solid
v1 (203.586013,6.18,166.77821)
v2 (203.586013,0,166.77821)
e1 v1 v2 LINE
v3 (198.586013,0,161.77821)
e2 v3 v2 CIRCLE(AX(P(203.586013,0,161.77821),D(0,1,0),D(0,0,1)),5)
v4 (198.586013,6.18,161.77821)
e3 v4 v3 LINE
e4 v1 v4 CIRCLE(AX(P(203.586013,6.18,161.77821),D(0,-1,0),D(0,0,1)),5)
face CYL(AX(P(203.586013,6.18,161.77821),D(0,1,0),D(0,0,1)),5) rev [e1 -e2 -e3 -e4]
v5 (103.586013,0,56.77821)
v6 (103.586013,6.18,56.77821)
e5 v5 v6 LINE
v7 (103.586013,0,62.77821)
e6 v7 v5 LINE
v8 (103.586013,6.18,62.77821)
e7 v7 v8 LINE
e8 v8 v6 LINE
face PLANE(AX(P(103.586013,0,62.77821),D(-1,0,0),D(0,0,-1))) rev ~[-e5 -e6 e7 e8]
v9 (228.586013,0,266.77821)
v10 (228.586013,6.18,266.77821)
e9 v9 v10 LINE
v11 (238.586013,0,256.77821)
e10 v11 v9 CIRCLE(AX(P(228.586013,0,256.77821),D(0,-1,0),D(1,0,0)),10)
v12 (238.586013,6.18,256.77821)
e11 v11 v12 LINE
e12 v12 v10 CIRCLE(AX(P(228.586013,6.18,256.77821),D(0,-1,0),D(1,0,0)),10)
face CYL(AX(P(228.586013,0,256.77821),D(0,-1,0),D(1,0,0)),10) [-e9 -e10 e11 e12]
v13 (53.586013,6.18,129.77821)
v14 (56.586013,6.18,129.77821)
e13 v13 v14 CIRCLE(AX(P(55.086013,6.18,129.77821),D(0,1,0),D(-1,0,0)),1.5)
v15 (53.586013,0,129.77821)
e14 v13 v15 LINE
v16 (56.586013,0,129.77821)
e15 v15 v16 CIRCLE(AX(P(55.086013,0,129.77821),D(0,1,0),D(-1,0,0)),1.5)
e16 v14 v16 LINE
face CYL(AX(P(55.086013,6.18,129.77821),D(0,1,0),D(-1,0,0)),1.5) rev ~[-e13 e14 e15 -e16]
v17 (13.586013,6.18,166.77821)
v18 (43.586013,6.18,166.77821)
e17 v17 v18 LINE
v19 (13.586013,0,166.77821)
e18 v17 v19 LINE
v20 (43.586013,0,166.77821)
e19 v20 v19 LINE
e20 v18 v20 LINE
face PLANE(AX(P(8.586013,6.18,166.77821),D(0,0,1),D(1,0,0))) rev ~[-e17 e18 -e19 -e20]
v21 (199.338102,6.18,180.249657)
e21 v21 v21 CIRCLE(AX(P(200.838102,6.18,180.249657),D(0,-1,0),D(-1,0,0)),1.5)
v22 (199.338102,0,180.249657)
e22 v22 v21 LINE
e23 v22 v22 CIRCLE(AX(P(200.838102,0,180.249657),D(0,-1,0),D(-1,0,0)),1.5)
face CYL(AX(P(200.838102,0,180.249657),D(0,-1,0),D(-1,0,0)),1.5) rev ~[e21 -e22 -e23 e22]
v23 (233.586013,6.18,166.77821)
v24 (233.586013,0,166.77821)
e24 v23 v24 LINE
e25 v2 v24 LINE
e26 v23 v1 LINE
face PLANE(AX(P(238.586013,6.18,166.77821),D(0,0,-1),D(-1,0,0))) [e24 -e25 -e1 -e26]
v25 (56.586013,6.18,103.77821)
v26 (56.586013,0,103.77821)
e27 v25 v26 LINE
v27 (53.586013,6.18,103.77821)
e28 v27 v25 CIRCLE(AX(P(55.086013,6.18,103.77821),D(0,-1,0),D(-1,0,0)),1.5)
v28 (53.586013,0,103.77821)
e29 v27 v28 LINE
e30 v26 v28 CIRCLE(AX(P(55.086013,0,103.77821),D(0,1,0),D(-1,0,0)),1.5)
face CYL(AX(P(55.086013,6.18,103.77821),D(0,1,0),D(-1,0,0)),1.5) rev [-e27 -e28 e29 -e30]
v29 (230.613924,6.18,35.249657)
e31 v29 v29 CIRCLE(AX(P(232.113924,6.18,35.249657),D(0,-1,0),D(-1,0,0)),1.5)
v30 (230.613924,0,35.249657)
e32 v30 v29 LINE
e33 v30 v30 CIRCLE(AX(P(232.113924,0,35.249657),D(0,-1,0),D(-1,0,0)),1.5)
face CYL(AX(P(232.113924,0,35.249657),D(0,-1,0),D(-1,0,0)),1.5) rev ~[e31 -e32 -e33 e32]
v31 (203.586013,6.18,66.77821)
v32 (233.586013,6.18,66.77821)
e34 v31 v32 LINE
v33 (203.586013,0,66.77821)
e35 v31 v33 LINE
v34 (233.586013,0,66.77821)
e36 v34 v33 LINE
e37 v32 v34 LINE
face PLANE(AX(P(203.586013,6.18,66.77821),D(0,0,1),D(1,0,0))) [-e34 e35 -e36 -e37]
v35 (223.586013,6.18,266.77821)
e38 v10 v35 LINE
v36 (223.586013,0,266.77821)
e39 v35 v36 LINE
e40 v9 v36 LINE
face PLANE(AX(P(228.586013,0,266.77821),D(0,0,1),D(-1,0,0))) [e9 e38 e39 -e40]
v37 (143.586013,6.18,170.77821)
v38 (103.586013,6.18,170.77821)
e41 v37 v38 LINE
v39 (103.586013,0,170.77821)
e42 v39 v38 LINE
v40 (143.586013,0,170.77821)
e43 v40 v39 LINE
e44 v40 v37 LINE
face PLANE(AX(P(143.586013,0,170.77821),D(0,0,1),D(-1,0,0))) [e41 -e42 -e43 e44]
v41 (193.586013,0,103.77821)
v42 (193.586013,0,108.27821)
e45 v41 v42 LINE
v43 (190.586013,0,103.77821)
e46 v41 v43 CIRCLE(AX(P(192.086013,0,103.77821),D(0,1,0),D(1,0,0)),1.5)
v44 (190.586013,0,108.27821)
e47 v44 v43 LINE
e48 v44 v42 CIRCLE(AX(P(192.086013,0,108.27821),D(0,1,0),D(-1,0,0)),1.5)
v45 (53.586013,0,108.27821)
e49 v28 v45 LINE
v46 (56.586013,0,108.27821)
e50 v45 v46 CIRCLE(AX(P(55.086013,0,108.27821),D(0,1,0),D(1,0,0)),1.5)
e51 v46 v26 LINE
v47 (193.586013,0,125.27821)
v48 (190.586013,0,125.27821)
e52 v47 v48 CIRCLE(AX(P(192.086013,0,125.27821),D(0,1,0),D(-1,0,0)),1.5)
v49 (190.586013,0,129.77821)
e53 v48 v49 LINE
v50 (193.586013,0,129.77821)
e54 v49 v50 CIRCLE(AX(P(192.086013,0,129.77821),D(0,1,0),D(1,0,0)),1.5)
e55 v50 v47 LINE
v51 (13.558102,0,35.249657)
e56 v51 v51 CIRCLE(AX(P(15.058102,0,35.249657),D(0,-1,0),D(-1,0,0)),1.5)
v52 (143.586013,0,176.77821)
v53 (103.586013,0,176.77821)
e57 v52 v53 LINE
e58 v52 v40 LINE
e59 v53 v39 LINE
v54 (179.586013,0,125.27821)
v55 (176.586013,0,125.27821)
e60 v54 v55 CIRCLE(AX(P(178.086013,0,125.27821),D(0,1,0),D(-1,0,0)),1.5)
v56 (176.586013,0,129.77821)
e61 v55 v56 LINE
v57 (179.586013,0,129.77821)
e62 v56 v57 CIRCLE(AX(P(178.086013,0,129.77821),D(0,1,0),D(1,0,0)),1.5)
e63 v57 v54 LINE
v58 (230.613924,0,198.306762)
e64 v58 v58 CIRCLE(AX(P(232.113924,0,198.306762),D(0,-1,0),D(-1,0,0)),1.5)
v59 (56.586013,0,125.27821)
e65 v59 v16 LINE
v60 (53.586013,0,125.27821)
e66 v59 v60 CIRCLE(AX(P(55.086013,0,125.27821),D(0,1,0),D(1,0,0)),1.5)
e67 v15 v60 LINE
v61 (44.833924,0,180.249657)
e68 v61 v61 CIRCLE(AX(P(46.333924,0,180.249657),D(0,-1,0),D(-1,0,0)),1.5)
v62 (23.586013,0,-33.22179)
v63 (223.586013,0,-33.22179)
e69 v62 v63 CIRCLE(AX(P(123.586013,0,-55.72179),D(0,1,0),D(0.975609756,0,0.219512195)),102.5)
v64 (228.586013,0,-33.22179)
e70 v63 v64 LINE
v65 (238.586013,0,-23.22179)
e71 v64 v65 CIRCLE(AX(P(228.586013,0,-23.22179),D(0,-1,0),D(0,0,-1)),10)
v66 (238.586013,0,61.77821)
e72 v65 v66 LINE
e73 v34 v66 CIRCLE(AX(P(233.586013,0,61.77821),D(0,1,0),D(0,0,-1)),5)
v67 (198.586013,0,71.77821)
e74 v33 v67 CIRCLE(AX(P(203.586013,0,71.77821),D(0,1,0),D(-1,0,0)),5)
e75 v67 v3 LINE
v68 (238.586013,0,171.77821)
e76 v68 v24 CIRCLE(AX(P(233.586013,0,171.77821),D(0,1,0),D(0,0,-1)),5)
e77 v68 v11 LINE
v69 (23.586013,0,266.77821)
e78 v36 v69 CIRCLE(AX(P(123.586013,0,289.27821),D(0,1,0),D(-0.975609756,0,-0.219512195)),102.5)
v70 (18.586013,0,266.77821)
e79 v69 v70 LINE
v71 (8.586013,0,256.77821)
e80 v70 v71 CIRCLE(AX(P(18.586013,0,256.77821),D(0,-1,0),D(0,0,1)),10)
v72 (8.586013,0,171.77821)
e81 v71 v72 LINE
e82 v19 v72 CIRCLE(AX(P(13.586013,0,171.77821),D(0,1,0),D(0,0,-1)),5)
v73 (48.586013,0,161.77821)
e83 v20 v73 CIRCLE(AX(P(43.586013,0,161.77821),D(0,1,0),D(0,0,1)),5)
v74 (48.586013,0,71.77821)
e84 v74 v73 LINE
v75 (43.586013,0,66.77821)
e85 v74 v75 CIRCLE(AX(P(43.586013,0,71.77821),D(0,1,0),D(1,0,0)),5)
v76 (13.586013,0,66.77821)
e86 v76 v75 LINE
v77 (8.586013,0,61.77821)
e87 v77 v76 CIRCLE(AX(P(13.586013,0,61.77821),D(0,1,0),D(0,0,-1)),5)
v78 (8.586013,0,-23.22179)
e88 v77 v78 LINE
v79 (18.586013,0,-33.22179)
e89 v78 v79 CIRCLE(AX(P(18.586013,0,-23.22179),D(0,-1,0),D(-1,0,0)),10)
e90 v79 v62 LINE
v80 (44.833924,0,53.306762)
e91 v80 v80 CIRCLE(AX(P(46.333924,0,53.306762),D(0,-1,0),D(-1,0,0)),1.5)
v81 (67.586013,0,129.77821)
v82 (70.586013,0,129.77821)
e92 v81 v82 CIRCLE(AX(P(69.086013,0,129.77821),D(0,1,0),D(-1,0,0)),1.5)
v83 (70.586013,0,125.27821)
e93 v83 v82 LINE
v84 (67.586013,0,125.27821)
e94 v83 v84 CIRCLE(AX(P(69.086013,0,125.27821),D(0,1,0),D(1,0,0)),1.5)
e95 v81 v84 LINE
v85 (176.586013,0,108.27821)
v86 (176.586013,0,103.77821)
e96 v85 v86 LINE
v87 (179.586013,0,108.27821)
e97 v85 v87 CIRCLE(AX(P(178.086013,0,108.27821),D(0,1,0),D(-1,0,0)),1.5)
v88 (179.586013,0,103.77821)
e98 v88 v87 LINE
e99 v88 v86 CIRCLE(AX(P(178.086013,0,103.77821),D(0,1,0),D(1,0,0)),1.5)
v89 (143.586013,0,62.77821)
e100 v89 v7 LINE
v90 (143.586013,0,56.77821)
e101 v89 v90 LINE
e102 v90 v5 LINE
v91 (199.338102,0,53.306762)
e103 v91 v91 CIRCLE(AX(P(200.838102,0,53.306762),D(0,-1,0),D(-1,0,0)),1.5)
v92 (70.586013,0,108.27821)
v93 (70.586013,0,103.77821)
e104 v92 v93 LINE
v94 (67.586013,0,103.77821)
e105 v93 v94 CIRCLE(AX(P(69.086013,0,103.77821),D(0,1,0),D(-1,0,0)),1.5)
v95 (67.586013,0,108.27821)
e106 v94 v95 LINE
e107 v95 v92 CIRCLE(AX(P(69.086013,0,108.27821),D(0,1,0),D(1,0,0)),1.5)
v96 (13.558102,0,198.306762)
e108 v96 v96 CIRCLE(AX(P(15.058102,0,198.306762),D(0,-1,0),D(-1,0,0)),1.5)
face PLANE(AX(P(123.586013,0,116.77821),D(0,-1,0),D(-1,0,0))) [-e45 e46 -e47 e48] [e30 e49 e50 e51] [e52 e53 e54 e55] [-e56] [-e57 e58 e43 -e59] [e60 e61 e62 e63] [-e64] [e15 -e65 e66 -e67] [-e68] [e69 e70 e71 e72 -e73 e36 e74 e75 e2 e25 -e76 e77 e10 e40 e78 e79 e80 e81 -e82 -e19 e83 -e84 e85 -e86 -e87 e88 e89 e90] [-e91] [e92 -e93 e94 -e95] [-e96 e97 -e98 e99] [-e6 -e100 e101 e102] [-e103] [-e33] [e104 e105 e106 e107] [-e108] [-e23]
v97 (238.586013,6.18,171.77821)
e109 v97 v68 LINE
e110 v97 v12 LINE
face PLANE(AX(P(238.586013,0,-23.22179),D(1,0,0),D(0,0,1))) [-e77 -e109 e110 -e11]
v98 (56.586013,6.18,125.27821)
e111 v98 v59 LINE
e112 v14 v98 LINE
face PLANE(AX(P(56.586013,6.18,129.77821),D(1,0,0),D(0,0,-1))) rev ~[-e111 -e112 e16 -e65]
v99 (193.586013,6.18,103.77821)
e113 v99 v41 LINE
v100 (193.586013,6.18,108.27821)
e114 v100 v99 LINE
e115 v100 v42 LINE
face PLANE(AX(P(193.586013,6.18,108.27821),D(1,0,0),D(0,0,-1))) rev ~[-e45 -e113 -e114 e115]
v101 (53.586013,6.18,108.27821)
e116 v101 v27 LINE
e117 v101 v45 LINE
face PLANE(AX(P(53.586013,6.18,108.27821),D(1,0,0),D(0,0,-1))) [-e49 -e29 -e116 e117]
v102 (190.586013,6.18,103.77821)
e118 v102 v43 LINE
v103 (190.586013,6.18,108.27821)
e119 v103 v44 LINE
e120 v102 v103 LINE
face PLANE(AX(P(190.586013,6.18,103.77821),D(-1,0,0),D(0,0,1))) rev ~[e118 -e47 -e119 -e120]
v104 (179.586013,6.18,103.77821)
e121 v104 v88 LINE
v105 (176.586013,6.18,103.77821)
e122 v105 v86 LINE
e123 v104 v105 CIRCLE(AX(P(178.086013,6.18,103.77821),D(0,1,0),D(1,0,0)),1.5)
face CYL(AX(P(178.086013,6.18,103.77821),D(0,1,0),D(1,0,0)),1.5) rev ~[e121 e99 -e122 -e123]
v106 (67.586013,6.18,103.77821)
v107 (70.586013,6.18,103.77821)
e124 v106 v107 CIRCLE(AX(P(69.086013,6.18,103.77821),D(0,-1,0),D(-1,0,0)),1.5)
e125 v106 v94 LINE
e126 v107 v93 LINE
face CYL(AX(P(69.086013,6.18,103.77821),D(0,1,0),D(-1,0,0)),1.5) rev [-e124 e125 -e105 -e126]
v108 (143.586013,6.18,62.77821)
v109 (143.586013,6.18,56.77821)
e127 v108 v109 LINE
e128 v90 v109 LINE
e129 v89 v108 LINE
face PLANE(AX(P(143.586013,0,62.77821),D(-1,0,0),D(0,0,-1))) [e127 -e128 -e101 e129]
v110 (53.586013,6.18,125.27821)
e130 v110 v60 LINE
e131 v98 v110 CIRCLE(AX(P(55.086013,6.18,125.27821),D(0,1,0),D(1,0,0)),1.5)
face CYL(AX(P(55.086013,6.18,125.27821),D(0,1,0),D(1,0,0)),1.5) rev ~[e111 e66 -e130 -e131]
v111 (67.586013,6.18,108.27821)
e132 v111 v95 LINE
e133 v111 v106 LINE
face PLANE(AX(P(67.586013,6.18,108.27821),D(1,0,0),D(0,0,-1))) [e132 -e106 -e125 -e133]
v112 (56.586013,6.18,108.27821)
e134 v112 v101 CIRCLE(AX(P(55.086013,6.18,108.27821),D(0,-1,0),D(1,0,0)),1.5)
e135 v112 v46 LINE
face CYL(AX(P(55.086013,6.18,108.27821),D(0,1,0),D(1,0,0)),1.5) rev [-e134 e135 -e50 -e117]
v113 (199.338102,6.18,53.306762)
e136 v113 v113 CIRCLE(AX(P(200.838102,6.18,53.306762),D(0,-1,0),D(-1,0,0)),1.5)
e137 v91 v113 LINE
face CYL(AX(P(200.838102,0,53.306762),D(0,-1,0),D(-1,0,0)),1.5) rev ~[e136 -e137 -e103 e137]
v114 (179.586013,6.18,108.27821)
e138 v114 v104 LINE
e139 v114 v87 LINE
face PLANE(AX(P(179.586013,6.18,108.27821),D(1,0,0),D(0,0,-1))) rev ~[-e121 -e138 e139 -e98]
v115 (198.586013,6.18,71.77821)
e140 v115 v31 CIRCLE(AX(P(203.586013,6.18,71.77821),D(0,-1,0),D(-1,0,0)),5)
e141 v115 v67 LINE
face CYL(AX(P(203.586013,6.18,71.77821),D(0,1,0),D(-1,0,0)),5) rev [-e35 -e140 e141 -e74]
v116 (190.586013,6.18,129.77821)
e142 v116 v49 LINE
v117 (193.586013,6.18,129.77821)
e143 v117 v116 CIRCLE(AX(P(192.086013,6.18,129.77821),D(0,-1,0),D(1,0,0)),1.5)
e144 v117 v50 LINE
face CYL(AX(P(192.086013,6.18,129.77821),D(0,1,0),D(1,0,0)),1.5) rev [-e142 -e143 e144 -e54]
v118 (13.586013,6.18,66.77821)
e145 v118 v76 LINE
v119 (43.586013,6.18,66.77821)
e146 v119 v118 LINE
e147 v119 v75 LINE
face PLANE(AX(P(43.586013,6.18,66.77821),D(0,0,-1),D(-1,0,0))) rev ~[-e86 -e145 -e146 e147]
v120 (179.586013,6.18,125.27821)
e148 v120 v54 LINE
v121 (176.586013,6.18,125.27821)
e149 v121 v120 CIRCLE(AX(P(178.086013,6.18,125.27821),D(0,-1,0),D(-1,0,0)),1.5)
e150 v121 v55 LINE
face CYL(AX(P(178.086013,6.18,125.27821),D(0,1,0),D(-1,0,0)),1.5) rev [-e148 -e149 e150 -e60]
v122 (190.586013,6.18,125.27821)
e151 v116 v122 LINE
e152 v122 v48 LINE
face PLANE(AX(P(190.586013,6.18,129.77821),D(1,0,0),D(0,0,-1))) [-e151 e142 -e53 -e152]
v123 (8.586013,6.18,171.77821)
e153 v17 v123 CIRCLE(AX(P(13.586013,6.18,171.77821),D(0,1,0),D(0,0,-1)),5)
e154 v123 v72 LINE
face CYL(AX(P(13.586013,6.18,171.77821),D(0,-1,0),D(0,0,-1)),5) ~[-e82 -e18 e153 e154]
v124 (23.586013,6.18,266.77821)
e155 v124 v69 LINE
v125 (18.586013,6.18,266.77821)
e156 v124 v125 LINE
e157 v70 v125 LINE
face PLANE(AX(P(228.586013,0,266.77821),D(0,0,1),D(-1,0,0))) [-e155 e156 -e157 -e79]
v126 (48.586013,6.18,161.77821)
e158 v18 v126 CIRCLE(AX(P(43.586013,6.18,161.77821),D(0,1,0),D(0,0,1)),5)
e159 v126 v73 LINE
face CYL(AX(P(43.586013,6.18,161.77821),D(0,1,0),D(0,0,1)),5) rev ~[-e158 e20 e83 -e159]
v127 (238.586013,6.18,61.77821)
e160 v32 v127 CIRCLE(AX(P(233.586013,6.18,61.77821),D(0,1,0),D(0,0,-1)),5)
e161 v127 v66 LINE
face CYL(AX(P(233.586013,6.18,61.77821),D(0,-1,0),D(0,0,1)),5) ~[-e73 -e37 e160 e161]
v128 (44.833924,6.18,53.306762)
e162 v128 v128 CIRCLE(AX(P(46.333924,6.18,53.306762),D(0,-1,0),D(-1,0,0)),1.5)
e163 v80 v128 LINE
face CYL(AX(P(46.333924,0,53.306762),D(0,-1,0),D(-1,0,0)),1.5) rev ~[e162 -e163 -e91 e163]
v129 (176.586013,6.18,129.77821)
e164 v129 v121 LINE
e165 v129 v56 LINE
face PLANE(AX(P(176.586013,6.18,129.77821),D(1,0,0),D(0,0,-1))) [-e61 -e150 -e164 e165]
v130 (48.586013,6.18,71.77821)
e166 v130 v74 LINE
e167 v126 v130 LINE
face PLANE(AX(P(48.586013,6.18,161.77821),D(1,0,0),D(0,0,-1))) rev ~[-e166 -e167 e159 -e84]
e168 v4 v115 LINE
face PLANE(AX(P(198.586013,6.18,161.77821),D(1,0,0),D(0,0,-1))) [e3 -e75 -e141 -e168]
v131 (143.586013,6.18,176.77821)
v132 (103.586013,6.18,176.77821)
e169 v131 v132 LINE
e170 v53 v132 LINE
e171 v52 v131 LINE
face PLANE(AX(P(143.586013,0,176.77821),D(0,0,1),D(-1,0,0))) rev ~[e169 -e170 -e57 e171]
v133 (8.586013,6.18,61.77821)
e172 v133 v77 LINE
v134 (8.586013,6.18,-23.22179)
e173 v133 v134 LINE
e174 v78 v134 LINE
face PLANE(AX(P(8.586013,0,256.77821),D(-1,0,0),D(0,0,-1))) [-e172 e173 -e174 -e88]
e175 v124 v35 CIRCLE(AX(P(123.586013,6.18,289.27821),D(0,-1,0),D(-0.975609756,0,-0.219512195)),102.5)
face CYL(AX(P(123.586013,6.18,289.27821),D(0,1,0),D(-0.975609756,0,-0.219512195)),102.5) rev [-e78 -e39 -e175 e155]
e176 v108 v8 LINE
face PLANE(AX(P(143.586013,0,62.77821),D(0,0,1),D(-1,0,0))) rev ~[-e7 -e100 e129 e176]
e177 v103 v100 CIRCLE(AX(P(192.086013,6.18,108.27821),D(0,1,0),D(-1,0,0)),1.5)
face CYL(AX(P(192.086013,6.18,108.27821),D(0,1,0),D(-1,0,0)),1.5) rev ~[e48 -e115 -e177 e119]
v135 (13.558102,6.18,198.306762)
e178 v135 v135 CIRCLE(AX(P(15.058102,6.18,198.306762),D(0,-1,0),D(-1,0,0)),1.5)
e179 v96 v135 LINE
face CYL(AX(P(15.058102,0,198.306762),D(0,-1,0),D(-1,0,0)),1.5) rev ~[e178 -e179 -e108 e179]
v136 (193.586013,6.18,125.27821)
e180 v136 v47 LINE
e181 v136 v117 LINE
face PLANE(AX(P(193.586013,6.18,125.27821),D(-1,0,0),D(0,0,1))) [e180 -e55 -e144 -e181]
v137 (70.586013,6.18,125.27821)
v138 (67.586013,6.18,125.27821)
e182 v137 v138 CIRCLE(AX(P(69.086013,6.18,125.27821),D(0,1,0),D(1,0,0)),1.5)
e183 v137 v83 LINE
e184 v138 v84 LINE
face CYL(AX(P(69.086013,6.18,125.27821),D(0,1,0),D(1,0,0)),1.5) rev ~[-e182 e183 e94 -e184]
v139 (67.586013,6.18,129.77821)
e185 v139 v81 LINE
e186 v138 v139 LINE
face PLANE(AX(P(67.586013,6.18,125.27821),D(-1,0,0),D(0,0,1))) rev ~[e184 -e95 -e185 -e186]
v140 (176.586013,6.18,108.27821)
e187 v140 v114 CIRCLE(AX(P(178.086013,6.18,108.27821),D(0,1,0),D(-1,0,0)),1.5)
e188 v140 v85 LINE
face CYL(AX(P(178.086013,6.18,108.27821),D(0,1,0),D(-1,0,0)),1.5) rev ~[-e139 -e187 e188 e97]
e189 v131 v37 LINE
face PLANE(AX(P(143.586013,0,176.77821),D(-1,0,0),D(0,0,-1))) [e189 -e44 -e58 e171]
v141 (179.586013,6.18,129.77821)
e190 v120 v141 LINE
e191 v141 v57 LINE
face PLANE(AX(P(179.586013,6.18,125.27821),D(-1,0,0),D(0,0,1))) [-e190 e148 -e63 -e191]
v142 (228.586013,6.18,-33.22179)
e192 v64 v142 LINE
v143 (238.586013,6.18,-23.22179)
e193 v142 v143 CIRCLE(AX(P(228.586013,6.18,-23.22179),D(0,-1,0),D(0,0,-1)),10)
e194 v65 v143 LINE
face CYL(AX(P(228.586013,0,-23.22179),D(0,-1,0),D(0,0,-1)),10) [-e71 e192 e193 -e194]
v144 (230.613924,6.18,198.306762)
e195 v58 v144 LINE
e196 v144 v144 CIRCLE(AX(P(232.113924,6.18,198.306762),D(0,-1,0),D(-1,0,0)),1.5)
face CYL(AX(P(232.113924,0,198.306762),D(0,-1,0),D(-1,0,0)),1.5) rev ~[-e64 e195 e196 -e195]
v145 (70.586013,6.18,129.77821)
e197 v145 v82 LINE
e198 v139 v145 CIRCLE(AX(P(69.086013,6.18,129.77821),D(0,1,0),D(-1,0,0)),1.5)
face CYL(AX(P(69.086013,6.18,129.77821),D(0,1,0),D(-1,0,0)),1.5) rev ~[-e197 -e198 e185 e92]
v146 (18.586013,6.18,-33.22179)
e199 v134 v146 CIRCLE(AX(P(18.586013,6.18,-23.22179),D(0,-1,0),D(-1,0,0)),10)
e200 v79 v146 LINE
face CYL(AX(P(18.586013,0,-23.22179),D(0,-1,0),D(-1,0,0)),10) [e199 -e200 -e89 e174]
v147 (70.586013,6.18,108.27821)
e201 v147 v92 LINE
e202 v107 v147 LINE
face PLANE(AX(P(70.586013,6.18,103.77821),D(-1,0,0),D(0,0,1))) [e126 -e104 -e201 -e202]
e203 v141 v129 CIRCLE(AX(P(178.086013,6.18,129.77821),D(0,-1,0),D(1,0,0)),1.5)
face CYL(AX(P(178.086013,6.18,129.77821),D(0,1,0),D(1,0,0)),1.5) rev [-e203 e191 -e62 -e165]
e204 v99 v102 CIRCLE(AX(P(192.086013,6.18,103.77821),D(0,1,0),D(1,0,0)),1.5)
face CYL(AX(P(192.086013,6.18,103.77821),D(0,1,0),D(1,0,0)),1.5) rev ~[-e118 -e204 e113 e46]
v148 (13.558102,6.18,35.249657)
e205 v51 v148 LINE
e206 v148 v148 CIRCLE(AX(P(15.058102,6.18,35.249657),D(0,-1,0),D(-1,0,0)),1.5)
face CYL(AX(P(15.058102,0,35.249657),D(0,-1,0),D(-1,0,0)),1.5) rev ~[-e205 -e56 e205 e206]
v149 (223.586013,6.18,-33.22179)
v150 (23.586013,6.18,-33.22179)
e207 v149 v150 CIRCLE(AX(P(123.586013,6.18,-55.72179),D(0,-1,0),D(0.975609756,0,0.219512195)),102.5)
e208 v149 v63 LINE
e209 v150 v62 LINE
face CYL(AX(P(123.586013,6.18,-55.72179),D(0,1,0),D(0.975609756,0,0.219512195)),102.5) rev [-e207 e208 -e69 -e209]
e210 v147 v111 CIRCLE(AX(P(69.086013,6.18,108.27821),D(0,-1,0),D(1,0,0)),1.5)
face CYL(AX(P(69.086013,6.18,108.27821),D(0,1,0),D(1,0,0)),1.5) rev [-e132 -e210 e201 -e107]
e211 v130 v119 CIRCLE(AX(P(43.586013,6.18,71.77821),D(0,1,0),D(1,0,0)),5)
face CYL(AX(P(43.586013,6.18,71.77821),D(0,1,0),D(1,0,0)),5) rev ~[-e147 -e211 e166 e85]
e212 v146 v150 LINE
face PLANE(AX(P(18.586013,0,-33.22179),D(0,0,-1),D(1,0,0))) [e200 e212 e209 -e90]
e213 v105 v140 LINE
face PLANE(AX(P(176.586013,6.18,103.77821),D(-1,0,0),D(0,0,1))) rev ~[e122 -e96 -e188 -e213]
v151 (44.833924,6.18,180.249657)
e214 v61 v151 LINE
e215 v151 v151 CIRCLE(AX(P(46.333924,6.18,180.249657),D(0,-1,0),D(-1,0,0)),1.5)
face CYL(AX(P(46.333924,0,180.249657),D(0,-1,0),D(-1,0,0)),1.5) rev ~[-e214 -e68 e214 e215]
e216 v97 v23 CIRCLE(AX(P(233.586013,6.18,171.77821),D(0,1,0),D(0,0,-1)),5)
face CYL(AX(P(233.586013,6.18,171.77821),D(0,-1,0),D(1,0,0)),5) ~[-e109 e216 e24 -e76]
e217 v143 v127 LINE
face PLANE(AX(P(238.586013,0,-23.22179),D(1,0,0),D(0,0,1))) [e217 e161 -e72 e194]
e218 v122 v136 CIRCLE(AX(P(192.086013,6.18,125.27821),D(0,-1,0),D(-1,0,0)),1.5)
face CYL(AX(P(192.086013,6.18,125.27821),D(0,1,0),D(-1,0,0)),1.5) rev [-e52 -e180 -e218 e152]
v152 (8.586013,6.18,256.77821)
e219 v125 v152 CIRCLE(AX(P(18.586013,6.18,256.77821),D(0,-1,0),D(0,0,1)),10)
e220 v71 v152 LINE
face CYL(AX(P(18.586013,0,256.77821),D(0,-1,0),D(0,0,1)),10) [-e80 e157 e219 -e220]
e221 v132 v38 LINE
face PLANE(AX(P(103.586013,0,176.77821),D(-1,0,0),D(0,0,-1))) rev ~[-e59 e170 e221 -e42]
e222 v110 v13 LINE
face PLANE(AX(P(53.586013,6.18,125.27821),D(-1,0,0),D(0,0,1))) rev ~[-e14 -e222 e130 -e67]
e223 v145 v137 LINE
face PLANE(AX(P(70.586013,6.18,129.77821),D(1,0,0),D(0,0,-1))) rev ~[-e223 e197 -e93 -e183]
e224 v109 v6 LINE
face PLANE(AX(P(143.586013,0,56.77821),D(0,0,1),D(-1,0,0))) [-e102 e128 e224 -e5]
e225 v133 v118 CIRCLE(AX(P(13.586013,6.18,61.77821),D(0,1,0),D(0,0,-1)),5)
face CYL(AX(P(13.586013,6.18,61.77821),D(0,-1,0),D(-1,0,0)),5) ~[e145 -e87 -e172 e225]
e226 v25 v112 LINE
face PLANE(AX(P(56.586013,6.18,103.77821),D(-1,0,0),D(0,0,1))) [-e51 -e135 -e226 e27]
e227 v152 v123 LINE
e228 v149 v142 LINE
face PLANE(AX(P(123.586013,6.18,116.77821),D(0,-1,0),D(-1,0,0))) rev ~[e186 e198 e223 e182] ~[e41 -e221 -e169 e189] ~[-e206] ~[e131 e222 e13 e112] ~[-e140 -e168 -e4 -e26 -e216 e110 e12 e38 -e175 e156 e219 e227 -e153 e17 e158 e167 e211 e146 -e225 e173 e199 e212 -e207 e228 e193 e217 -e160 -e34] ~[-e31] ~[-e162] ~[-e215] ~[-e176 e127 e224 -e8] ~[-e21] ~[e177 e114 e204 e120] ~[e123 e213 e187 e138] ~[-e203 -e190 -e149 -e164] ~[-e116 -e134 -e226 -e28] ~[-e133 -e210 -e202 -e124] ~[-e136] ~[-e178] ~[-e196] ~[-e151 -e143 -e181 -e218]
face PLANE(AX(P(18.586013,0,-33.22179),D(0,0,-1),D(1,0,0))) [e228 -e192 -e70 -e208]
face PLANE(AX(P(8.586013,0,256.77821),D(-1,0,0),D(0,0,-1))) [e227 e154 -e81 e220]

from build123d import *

# Parameters (mm, degrees)
EXTRUDE_1_DEPTH          = 6.18
CUT_EXTRUDE_1_DEPTH      = 7.18
FILLET_2_R               = 5
FILLET_3_R               = 5
FILLET_4_R               = 5
FILLET_5_R               = 5
SKETCH_4_W               = 40
SKETCH_4_H               = 6
SKETCH_4_R               = 1.5
CUT_EXTRUDE_2_DEPTH      = 7.18
CUT_EXTRUDE_9_DEPTH      = 1
CUT_EXTRUDE_9_DEPTH_BACK = 7.18


with BuildPart() as part:
    # 草图1 → 凸台-拉伸1 (new body)
    with BuildSketch(Plane(origin=(0, 0, 0), x_dir=(1, 0, 0), z_dir=(0, 1, 0))):
        with BuildLine():
            Line((18.586012984, 33.22179039), (228.586012984, 33.22179039))
            ThreePointArc((228.586012984, 33.22179039), (235.657080796, 30.292858202), (238.586012984, 23.22179039))
            Line((238.586012984, 23.22179039), (238.586012984, -256.77820961))
            ThreePointArc((238.586012984, -256.77820961), (235.657080796, -263.849277422), (228.586012984, -266.77820961))
            Line((228.586012984, -266.77820961), (18.586012984, -266.77820961))
            ThreePointArc((18.586012984, -266.77820961), (11.514945172, -263.849277422), (8.586012984, -256.77820961))
            Line((8.586012984, -256.77820961), (8.586012984, 23.22179039))
            ThreePointArc((8.586012984, 23.22179039), (11.514945172, 30.292858202), (18.586012984, 33.22179039))
        make_face()
    extrude(amount=EXTRUDE_1_DEPTH)

    # 草图2 → 切除-拉伸1 (cut, through all)
    with BuildSketch(Plane(origin=(0, 6.18, 0), x_dir=(1, 0, 0), z_dir=(0, 1, 0))):
        with BuildLine():
            Line((48.586012984, -161.77820961), (48.586012984, -71.77820961))
            ThreePointArc((48.586012984, -71.77820961), (47.12154689, -68.242675704), (43.586012984, -66.77820961))
            Line((43.586012984, -66.77820961), (8.586012984, -66.77820961))
            Line((8.586012984, -66.77820961), (8.586012984, -166.77820961))
            Line((8.586012984, -166.77820961), (43.586012984, -166.77820961))
            ThreePointArc((43.586012984, -166.77820961), (47.12154689, -165.313743516), (48.586012984, -161.77820961))
        make_face()
        with BuildLine():
            Line((56.586012984, -103.77820961), (56.586012984, -108.27820961))
            ThreePointArc((56.586012984, -108.27820961), (55.086012984, -109.77820961), (53.586012984, -108.27820961))
            Line((53.586012984, -108.27820961), (53.586012984, -103.77820961))
            ThreePointArc((53.586012984, -103.77820961), (55.086012984, -102.27820961), (56.586012984, -103.77820961))
        make_face()
        with BuildLine():
            Line((70.586012984, -103.77820961), (70.586012984, -108.27820961))
            ThreePointArc((70.586012984, -108.27820961), (69.086012984, -109.77820961), (67.586012984, -108.27820961))
            Line((67.586012984, -108.27820961), (67.586012984, -103.77820961))
            ThreePointArc((67.586012984, -103.77820961), (69.086012984, -102.27820961), (70.586012984, -103.77820961))
        make_face()
        with BuildLine():
            Line((70.586012984, -129.77820961), (70.586012984, -125.27820961))
            ThreePointArc((70.586012984, -125.27820961), (69.086012984, -123.77820961), (67.586012984, -125.27820961))
            Line((67.586012984, -125.27820961), (67.586012984, -129.77820961))
            ThreePointArc((67.586012984, -129.77820961), (69.086012984, -131.27820961), (70.586012984, -129.77820961))
        make_face()
        with BuildLine():
            Line((56.586012984, -129.77820961), (56.586012984, -125.27820961))
            ThreePointArc((56.586012984, -125.27820961), (55.086012984, -123.77820961), (53.586012984, -125.27820961))
            Line((53.586012984, -125.27820961), (53.586012984, -129.77820961))
            ThreePointArc((53.586012984, -129.77820961), (55.086012984, -131.27820961), (56.586012984, -129.77820961))
        make_face()
        with BuildLine():
            Line((176.586012984, -129.77820961), (176.586012984, -125.27820961))
            ThreePointArc((176.586012984, -125.27820961), (178.086012984, -123.77820961), (179.586012984, -125.27820961))
            Line((179.586012984, -125.27820961), (179.586012984, -129.77820961))
            ThreePointArc((179.586012984, -129.77820961), (178.086012984, -131.27820961), (176.586012984, -129.77820961))
        make_face()
        with BuildLine():
            Line((190.586012984, -129.77820961), (190.586012984, -125.27820961))
            ThreePointArc((190.586012984, -125.27820961), (192.086012984, -123.77820961), (193.586012984, -125.27820961))
            Line((193.586012984, -125.27820961), (193.586012984, -129.77820961))
            ThreePointArc((193.586012984, -129.77820961), (192.086012984, -131.27820961), (190.586012984, -129.77820961))
        make_face()
        with BuildLine():
            Line((190.586012984, -103.77820961), (190.586012984, -108.27820961))
            ThreePointArc((190.586012984, -108.27820961), (192.086012984, -109.77820961), (193.586012984, -108.27820961))
            Line((193.586012984, -108.27820961), (193.586012984, -103.77820961))
            ThreePointArc((193.586012984, -103.77820961), (192.086012984, -102.27820961), (190.586012984, -103.77820961))
        make_face()
        with BuildLine():
            Line((176.586012984, -103.77820961), (176.586012984, -108.27820961))
            ThreePointArc((176.586012984, -108.27820961), (178.086012984, -109.77820961), (179.586012984, -108.27820961))
            Line((179.586012984, -108.27820961), (179.586012984, -103.77820961))
            ThreePointArc((179.586012984, -103.77820961), (178.086012984, -102.27820961), (176.586012984, -103.77820961))
        make_face()
        with BuildLine():
            Line((198.586012984, -161.77820961), (198.586012984, -71.77820961))
            ThreePointArc((198.586012984, -71.77820961), (200.050479078, -68.242675704), (203.586012984, -66.77820961))
            Line((203.586012984, -66.77820961), (238.586012984, -66.77820961))
            Line((238.586012984, -66.77820961), (238.586012984, -166.77820961))
            Line((238.586012984, -166.77820961), (203.586012984, -166.77820961))
            ThreePointArc((203.586012984, -166.77820961), (200.050479078, -165.313743516), (198.586012984, -161.77820961))
        make_face()
    extrude(amount=-CUT_EXTRUDE_1_DEPTH, mode=Mode.SUBTRACT)

    # 圆角2
    fillet_2_edges = [part.edges().sort_by_distance(p)[0] for p in [
        (8.586012984, 3.09, 66.77820961),
    ]]
    fillet(fillet_2_edges, radius=FILLET_2_R)

    # 圆角3
    fillet_3_edges = [part.edges().sort_by_distance(p)[0] for p in [
        (8.586012984, 3.09, 166.77820961),
    ]]
    fillet(fillet_3_edges, radius=FILLET_3_R)

    # 圆角4
    fillet_4_edges = [part.edges().sort_by_distance(p)[0] for p in [
        (238.586012984, 3.09, 166.77820961),
    ]]
    fillet(fillet_4_edges, radius=FILLET_4_R)

    # 圆角5
    fillet_5_edges = [part.edges().sort_by_distance(p)[0] for p in [
        (238.586012984, 3.09, 66.77820961),
    ]]
    fillet(fillet_5_edges, radius=FILLET_5_R)

    # 草图4 → 切除-拉伸2 (cut, through all)
    with BuildSketch(Plane(origin=(0, 0, 0), x_dir=(-1, 0, 0), z_dir=(0, -1, 0))):
        with Locations((-123.586012984, -59.77820961)):
            Rectangle(SKETCH_4_W, SKETCH_4_H)
        with Locations((-123.586012984, -173.77820961)):
            Rectangle(SKETCH_4_W, SKETCH_4_H)
        with Locations((-232.113924071, -35.249657434)):
            Circle(SKETCH_4_R)
        with Locations((-200.838101897, -53.306761785)):
            Circle(SKETCH_4_R)
        with Locations((-232.113924071, -198.306761785)):
            Circle(SKETCH_4_R)
        with Locations((-200.838101897, -180.249657434)):
            Circle(SKETCH_4_R)
        with Locations((-15.058101897, -198.306761785)):
            Circle(SKETCH_4_R)
        with Locations((-46.333924071, -180.249657434)):
            Circle(SKETCH_4_R)
        with Locations((-46.333924071, -53.306761785)):
            Circle(SKETCH_4_R)
        with Locations((-15.058101897, -35.249657434)):
            Circle(SKETCH_4_R)
    extrude(amount=-CUT_EXTRUDE_2_DEPTH, mode=Mode.SUBTRACT)

    # 草图5 → 切除-拉伸9 (cut, two sides)
    with BuildSketch(Plane(origin=(0, 6.18, 0), x_dir=(1, 0, 0), z_dir=(0, 1, 0))) as cut_extrude_9_sk:
        with BuildLine():
            Line((123.586012984, -266.77820961), (23.586012984, -266.77820961))
            ThreePointArc((23.586012984, -266.77820961), (123.586012984, -186.77820961), (223.586012984, -266.77820961))
            Line((223.586012984, -266.77820961), (123.586012984, -266.77820961))
        make_face()
        with BuildLine():
            Line((23.586012984, 33.22179039), (223.586012984, 33.22179039))
            ThreePointArc((223.586012984, 33.22179039), (123.586012984, -46.77820961), (23.586012984, 33.22179039))
        make_face()
    extrude(amount=CUT_EXTRUDE_9_DEPTH, mode=Mode.SUBTRACT)
    extrude(cut_extrude_9_sk.sketch, amount=-CUT_EXTRUDE_9_DEPTH_BACK, mode=Mode.SUBTRACT)


solid = part.part
